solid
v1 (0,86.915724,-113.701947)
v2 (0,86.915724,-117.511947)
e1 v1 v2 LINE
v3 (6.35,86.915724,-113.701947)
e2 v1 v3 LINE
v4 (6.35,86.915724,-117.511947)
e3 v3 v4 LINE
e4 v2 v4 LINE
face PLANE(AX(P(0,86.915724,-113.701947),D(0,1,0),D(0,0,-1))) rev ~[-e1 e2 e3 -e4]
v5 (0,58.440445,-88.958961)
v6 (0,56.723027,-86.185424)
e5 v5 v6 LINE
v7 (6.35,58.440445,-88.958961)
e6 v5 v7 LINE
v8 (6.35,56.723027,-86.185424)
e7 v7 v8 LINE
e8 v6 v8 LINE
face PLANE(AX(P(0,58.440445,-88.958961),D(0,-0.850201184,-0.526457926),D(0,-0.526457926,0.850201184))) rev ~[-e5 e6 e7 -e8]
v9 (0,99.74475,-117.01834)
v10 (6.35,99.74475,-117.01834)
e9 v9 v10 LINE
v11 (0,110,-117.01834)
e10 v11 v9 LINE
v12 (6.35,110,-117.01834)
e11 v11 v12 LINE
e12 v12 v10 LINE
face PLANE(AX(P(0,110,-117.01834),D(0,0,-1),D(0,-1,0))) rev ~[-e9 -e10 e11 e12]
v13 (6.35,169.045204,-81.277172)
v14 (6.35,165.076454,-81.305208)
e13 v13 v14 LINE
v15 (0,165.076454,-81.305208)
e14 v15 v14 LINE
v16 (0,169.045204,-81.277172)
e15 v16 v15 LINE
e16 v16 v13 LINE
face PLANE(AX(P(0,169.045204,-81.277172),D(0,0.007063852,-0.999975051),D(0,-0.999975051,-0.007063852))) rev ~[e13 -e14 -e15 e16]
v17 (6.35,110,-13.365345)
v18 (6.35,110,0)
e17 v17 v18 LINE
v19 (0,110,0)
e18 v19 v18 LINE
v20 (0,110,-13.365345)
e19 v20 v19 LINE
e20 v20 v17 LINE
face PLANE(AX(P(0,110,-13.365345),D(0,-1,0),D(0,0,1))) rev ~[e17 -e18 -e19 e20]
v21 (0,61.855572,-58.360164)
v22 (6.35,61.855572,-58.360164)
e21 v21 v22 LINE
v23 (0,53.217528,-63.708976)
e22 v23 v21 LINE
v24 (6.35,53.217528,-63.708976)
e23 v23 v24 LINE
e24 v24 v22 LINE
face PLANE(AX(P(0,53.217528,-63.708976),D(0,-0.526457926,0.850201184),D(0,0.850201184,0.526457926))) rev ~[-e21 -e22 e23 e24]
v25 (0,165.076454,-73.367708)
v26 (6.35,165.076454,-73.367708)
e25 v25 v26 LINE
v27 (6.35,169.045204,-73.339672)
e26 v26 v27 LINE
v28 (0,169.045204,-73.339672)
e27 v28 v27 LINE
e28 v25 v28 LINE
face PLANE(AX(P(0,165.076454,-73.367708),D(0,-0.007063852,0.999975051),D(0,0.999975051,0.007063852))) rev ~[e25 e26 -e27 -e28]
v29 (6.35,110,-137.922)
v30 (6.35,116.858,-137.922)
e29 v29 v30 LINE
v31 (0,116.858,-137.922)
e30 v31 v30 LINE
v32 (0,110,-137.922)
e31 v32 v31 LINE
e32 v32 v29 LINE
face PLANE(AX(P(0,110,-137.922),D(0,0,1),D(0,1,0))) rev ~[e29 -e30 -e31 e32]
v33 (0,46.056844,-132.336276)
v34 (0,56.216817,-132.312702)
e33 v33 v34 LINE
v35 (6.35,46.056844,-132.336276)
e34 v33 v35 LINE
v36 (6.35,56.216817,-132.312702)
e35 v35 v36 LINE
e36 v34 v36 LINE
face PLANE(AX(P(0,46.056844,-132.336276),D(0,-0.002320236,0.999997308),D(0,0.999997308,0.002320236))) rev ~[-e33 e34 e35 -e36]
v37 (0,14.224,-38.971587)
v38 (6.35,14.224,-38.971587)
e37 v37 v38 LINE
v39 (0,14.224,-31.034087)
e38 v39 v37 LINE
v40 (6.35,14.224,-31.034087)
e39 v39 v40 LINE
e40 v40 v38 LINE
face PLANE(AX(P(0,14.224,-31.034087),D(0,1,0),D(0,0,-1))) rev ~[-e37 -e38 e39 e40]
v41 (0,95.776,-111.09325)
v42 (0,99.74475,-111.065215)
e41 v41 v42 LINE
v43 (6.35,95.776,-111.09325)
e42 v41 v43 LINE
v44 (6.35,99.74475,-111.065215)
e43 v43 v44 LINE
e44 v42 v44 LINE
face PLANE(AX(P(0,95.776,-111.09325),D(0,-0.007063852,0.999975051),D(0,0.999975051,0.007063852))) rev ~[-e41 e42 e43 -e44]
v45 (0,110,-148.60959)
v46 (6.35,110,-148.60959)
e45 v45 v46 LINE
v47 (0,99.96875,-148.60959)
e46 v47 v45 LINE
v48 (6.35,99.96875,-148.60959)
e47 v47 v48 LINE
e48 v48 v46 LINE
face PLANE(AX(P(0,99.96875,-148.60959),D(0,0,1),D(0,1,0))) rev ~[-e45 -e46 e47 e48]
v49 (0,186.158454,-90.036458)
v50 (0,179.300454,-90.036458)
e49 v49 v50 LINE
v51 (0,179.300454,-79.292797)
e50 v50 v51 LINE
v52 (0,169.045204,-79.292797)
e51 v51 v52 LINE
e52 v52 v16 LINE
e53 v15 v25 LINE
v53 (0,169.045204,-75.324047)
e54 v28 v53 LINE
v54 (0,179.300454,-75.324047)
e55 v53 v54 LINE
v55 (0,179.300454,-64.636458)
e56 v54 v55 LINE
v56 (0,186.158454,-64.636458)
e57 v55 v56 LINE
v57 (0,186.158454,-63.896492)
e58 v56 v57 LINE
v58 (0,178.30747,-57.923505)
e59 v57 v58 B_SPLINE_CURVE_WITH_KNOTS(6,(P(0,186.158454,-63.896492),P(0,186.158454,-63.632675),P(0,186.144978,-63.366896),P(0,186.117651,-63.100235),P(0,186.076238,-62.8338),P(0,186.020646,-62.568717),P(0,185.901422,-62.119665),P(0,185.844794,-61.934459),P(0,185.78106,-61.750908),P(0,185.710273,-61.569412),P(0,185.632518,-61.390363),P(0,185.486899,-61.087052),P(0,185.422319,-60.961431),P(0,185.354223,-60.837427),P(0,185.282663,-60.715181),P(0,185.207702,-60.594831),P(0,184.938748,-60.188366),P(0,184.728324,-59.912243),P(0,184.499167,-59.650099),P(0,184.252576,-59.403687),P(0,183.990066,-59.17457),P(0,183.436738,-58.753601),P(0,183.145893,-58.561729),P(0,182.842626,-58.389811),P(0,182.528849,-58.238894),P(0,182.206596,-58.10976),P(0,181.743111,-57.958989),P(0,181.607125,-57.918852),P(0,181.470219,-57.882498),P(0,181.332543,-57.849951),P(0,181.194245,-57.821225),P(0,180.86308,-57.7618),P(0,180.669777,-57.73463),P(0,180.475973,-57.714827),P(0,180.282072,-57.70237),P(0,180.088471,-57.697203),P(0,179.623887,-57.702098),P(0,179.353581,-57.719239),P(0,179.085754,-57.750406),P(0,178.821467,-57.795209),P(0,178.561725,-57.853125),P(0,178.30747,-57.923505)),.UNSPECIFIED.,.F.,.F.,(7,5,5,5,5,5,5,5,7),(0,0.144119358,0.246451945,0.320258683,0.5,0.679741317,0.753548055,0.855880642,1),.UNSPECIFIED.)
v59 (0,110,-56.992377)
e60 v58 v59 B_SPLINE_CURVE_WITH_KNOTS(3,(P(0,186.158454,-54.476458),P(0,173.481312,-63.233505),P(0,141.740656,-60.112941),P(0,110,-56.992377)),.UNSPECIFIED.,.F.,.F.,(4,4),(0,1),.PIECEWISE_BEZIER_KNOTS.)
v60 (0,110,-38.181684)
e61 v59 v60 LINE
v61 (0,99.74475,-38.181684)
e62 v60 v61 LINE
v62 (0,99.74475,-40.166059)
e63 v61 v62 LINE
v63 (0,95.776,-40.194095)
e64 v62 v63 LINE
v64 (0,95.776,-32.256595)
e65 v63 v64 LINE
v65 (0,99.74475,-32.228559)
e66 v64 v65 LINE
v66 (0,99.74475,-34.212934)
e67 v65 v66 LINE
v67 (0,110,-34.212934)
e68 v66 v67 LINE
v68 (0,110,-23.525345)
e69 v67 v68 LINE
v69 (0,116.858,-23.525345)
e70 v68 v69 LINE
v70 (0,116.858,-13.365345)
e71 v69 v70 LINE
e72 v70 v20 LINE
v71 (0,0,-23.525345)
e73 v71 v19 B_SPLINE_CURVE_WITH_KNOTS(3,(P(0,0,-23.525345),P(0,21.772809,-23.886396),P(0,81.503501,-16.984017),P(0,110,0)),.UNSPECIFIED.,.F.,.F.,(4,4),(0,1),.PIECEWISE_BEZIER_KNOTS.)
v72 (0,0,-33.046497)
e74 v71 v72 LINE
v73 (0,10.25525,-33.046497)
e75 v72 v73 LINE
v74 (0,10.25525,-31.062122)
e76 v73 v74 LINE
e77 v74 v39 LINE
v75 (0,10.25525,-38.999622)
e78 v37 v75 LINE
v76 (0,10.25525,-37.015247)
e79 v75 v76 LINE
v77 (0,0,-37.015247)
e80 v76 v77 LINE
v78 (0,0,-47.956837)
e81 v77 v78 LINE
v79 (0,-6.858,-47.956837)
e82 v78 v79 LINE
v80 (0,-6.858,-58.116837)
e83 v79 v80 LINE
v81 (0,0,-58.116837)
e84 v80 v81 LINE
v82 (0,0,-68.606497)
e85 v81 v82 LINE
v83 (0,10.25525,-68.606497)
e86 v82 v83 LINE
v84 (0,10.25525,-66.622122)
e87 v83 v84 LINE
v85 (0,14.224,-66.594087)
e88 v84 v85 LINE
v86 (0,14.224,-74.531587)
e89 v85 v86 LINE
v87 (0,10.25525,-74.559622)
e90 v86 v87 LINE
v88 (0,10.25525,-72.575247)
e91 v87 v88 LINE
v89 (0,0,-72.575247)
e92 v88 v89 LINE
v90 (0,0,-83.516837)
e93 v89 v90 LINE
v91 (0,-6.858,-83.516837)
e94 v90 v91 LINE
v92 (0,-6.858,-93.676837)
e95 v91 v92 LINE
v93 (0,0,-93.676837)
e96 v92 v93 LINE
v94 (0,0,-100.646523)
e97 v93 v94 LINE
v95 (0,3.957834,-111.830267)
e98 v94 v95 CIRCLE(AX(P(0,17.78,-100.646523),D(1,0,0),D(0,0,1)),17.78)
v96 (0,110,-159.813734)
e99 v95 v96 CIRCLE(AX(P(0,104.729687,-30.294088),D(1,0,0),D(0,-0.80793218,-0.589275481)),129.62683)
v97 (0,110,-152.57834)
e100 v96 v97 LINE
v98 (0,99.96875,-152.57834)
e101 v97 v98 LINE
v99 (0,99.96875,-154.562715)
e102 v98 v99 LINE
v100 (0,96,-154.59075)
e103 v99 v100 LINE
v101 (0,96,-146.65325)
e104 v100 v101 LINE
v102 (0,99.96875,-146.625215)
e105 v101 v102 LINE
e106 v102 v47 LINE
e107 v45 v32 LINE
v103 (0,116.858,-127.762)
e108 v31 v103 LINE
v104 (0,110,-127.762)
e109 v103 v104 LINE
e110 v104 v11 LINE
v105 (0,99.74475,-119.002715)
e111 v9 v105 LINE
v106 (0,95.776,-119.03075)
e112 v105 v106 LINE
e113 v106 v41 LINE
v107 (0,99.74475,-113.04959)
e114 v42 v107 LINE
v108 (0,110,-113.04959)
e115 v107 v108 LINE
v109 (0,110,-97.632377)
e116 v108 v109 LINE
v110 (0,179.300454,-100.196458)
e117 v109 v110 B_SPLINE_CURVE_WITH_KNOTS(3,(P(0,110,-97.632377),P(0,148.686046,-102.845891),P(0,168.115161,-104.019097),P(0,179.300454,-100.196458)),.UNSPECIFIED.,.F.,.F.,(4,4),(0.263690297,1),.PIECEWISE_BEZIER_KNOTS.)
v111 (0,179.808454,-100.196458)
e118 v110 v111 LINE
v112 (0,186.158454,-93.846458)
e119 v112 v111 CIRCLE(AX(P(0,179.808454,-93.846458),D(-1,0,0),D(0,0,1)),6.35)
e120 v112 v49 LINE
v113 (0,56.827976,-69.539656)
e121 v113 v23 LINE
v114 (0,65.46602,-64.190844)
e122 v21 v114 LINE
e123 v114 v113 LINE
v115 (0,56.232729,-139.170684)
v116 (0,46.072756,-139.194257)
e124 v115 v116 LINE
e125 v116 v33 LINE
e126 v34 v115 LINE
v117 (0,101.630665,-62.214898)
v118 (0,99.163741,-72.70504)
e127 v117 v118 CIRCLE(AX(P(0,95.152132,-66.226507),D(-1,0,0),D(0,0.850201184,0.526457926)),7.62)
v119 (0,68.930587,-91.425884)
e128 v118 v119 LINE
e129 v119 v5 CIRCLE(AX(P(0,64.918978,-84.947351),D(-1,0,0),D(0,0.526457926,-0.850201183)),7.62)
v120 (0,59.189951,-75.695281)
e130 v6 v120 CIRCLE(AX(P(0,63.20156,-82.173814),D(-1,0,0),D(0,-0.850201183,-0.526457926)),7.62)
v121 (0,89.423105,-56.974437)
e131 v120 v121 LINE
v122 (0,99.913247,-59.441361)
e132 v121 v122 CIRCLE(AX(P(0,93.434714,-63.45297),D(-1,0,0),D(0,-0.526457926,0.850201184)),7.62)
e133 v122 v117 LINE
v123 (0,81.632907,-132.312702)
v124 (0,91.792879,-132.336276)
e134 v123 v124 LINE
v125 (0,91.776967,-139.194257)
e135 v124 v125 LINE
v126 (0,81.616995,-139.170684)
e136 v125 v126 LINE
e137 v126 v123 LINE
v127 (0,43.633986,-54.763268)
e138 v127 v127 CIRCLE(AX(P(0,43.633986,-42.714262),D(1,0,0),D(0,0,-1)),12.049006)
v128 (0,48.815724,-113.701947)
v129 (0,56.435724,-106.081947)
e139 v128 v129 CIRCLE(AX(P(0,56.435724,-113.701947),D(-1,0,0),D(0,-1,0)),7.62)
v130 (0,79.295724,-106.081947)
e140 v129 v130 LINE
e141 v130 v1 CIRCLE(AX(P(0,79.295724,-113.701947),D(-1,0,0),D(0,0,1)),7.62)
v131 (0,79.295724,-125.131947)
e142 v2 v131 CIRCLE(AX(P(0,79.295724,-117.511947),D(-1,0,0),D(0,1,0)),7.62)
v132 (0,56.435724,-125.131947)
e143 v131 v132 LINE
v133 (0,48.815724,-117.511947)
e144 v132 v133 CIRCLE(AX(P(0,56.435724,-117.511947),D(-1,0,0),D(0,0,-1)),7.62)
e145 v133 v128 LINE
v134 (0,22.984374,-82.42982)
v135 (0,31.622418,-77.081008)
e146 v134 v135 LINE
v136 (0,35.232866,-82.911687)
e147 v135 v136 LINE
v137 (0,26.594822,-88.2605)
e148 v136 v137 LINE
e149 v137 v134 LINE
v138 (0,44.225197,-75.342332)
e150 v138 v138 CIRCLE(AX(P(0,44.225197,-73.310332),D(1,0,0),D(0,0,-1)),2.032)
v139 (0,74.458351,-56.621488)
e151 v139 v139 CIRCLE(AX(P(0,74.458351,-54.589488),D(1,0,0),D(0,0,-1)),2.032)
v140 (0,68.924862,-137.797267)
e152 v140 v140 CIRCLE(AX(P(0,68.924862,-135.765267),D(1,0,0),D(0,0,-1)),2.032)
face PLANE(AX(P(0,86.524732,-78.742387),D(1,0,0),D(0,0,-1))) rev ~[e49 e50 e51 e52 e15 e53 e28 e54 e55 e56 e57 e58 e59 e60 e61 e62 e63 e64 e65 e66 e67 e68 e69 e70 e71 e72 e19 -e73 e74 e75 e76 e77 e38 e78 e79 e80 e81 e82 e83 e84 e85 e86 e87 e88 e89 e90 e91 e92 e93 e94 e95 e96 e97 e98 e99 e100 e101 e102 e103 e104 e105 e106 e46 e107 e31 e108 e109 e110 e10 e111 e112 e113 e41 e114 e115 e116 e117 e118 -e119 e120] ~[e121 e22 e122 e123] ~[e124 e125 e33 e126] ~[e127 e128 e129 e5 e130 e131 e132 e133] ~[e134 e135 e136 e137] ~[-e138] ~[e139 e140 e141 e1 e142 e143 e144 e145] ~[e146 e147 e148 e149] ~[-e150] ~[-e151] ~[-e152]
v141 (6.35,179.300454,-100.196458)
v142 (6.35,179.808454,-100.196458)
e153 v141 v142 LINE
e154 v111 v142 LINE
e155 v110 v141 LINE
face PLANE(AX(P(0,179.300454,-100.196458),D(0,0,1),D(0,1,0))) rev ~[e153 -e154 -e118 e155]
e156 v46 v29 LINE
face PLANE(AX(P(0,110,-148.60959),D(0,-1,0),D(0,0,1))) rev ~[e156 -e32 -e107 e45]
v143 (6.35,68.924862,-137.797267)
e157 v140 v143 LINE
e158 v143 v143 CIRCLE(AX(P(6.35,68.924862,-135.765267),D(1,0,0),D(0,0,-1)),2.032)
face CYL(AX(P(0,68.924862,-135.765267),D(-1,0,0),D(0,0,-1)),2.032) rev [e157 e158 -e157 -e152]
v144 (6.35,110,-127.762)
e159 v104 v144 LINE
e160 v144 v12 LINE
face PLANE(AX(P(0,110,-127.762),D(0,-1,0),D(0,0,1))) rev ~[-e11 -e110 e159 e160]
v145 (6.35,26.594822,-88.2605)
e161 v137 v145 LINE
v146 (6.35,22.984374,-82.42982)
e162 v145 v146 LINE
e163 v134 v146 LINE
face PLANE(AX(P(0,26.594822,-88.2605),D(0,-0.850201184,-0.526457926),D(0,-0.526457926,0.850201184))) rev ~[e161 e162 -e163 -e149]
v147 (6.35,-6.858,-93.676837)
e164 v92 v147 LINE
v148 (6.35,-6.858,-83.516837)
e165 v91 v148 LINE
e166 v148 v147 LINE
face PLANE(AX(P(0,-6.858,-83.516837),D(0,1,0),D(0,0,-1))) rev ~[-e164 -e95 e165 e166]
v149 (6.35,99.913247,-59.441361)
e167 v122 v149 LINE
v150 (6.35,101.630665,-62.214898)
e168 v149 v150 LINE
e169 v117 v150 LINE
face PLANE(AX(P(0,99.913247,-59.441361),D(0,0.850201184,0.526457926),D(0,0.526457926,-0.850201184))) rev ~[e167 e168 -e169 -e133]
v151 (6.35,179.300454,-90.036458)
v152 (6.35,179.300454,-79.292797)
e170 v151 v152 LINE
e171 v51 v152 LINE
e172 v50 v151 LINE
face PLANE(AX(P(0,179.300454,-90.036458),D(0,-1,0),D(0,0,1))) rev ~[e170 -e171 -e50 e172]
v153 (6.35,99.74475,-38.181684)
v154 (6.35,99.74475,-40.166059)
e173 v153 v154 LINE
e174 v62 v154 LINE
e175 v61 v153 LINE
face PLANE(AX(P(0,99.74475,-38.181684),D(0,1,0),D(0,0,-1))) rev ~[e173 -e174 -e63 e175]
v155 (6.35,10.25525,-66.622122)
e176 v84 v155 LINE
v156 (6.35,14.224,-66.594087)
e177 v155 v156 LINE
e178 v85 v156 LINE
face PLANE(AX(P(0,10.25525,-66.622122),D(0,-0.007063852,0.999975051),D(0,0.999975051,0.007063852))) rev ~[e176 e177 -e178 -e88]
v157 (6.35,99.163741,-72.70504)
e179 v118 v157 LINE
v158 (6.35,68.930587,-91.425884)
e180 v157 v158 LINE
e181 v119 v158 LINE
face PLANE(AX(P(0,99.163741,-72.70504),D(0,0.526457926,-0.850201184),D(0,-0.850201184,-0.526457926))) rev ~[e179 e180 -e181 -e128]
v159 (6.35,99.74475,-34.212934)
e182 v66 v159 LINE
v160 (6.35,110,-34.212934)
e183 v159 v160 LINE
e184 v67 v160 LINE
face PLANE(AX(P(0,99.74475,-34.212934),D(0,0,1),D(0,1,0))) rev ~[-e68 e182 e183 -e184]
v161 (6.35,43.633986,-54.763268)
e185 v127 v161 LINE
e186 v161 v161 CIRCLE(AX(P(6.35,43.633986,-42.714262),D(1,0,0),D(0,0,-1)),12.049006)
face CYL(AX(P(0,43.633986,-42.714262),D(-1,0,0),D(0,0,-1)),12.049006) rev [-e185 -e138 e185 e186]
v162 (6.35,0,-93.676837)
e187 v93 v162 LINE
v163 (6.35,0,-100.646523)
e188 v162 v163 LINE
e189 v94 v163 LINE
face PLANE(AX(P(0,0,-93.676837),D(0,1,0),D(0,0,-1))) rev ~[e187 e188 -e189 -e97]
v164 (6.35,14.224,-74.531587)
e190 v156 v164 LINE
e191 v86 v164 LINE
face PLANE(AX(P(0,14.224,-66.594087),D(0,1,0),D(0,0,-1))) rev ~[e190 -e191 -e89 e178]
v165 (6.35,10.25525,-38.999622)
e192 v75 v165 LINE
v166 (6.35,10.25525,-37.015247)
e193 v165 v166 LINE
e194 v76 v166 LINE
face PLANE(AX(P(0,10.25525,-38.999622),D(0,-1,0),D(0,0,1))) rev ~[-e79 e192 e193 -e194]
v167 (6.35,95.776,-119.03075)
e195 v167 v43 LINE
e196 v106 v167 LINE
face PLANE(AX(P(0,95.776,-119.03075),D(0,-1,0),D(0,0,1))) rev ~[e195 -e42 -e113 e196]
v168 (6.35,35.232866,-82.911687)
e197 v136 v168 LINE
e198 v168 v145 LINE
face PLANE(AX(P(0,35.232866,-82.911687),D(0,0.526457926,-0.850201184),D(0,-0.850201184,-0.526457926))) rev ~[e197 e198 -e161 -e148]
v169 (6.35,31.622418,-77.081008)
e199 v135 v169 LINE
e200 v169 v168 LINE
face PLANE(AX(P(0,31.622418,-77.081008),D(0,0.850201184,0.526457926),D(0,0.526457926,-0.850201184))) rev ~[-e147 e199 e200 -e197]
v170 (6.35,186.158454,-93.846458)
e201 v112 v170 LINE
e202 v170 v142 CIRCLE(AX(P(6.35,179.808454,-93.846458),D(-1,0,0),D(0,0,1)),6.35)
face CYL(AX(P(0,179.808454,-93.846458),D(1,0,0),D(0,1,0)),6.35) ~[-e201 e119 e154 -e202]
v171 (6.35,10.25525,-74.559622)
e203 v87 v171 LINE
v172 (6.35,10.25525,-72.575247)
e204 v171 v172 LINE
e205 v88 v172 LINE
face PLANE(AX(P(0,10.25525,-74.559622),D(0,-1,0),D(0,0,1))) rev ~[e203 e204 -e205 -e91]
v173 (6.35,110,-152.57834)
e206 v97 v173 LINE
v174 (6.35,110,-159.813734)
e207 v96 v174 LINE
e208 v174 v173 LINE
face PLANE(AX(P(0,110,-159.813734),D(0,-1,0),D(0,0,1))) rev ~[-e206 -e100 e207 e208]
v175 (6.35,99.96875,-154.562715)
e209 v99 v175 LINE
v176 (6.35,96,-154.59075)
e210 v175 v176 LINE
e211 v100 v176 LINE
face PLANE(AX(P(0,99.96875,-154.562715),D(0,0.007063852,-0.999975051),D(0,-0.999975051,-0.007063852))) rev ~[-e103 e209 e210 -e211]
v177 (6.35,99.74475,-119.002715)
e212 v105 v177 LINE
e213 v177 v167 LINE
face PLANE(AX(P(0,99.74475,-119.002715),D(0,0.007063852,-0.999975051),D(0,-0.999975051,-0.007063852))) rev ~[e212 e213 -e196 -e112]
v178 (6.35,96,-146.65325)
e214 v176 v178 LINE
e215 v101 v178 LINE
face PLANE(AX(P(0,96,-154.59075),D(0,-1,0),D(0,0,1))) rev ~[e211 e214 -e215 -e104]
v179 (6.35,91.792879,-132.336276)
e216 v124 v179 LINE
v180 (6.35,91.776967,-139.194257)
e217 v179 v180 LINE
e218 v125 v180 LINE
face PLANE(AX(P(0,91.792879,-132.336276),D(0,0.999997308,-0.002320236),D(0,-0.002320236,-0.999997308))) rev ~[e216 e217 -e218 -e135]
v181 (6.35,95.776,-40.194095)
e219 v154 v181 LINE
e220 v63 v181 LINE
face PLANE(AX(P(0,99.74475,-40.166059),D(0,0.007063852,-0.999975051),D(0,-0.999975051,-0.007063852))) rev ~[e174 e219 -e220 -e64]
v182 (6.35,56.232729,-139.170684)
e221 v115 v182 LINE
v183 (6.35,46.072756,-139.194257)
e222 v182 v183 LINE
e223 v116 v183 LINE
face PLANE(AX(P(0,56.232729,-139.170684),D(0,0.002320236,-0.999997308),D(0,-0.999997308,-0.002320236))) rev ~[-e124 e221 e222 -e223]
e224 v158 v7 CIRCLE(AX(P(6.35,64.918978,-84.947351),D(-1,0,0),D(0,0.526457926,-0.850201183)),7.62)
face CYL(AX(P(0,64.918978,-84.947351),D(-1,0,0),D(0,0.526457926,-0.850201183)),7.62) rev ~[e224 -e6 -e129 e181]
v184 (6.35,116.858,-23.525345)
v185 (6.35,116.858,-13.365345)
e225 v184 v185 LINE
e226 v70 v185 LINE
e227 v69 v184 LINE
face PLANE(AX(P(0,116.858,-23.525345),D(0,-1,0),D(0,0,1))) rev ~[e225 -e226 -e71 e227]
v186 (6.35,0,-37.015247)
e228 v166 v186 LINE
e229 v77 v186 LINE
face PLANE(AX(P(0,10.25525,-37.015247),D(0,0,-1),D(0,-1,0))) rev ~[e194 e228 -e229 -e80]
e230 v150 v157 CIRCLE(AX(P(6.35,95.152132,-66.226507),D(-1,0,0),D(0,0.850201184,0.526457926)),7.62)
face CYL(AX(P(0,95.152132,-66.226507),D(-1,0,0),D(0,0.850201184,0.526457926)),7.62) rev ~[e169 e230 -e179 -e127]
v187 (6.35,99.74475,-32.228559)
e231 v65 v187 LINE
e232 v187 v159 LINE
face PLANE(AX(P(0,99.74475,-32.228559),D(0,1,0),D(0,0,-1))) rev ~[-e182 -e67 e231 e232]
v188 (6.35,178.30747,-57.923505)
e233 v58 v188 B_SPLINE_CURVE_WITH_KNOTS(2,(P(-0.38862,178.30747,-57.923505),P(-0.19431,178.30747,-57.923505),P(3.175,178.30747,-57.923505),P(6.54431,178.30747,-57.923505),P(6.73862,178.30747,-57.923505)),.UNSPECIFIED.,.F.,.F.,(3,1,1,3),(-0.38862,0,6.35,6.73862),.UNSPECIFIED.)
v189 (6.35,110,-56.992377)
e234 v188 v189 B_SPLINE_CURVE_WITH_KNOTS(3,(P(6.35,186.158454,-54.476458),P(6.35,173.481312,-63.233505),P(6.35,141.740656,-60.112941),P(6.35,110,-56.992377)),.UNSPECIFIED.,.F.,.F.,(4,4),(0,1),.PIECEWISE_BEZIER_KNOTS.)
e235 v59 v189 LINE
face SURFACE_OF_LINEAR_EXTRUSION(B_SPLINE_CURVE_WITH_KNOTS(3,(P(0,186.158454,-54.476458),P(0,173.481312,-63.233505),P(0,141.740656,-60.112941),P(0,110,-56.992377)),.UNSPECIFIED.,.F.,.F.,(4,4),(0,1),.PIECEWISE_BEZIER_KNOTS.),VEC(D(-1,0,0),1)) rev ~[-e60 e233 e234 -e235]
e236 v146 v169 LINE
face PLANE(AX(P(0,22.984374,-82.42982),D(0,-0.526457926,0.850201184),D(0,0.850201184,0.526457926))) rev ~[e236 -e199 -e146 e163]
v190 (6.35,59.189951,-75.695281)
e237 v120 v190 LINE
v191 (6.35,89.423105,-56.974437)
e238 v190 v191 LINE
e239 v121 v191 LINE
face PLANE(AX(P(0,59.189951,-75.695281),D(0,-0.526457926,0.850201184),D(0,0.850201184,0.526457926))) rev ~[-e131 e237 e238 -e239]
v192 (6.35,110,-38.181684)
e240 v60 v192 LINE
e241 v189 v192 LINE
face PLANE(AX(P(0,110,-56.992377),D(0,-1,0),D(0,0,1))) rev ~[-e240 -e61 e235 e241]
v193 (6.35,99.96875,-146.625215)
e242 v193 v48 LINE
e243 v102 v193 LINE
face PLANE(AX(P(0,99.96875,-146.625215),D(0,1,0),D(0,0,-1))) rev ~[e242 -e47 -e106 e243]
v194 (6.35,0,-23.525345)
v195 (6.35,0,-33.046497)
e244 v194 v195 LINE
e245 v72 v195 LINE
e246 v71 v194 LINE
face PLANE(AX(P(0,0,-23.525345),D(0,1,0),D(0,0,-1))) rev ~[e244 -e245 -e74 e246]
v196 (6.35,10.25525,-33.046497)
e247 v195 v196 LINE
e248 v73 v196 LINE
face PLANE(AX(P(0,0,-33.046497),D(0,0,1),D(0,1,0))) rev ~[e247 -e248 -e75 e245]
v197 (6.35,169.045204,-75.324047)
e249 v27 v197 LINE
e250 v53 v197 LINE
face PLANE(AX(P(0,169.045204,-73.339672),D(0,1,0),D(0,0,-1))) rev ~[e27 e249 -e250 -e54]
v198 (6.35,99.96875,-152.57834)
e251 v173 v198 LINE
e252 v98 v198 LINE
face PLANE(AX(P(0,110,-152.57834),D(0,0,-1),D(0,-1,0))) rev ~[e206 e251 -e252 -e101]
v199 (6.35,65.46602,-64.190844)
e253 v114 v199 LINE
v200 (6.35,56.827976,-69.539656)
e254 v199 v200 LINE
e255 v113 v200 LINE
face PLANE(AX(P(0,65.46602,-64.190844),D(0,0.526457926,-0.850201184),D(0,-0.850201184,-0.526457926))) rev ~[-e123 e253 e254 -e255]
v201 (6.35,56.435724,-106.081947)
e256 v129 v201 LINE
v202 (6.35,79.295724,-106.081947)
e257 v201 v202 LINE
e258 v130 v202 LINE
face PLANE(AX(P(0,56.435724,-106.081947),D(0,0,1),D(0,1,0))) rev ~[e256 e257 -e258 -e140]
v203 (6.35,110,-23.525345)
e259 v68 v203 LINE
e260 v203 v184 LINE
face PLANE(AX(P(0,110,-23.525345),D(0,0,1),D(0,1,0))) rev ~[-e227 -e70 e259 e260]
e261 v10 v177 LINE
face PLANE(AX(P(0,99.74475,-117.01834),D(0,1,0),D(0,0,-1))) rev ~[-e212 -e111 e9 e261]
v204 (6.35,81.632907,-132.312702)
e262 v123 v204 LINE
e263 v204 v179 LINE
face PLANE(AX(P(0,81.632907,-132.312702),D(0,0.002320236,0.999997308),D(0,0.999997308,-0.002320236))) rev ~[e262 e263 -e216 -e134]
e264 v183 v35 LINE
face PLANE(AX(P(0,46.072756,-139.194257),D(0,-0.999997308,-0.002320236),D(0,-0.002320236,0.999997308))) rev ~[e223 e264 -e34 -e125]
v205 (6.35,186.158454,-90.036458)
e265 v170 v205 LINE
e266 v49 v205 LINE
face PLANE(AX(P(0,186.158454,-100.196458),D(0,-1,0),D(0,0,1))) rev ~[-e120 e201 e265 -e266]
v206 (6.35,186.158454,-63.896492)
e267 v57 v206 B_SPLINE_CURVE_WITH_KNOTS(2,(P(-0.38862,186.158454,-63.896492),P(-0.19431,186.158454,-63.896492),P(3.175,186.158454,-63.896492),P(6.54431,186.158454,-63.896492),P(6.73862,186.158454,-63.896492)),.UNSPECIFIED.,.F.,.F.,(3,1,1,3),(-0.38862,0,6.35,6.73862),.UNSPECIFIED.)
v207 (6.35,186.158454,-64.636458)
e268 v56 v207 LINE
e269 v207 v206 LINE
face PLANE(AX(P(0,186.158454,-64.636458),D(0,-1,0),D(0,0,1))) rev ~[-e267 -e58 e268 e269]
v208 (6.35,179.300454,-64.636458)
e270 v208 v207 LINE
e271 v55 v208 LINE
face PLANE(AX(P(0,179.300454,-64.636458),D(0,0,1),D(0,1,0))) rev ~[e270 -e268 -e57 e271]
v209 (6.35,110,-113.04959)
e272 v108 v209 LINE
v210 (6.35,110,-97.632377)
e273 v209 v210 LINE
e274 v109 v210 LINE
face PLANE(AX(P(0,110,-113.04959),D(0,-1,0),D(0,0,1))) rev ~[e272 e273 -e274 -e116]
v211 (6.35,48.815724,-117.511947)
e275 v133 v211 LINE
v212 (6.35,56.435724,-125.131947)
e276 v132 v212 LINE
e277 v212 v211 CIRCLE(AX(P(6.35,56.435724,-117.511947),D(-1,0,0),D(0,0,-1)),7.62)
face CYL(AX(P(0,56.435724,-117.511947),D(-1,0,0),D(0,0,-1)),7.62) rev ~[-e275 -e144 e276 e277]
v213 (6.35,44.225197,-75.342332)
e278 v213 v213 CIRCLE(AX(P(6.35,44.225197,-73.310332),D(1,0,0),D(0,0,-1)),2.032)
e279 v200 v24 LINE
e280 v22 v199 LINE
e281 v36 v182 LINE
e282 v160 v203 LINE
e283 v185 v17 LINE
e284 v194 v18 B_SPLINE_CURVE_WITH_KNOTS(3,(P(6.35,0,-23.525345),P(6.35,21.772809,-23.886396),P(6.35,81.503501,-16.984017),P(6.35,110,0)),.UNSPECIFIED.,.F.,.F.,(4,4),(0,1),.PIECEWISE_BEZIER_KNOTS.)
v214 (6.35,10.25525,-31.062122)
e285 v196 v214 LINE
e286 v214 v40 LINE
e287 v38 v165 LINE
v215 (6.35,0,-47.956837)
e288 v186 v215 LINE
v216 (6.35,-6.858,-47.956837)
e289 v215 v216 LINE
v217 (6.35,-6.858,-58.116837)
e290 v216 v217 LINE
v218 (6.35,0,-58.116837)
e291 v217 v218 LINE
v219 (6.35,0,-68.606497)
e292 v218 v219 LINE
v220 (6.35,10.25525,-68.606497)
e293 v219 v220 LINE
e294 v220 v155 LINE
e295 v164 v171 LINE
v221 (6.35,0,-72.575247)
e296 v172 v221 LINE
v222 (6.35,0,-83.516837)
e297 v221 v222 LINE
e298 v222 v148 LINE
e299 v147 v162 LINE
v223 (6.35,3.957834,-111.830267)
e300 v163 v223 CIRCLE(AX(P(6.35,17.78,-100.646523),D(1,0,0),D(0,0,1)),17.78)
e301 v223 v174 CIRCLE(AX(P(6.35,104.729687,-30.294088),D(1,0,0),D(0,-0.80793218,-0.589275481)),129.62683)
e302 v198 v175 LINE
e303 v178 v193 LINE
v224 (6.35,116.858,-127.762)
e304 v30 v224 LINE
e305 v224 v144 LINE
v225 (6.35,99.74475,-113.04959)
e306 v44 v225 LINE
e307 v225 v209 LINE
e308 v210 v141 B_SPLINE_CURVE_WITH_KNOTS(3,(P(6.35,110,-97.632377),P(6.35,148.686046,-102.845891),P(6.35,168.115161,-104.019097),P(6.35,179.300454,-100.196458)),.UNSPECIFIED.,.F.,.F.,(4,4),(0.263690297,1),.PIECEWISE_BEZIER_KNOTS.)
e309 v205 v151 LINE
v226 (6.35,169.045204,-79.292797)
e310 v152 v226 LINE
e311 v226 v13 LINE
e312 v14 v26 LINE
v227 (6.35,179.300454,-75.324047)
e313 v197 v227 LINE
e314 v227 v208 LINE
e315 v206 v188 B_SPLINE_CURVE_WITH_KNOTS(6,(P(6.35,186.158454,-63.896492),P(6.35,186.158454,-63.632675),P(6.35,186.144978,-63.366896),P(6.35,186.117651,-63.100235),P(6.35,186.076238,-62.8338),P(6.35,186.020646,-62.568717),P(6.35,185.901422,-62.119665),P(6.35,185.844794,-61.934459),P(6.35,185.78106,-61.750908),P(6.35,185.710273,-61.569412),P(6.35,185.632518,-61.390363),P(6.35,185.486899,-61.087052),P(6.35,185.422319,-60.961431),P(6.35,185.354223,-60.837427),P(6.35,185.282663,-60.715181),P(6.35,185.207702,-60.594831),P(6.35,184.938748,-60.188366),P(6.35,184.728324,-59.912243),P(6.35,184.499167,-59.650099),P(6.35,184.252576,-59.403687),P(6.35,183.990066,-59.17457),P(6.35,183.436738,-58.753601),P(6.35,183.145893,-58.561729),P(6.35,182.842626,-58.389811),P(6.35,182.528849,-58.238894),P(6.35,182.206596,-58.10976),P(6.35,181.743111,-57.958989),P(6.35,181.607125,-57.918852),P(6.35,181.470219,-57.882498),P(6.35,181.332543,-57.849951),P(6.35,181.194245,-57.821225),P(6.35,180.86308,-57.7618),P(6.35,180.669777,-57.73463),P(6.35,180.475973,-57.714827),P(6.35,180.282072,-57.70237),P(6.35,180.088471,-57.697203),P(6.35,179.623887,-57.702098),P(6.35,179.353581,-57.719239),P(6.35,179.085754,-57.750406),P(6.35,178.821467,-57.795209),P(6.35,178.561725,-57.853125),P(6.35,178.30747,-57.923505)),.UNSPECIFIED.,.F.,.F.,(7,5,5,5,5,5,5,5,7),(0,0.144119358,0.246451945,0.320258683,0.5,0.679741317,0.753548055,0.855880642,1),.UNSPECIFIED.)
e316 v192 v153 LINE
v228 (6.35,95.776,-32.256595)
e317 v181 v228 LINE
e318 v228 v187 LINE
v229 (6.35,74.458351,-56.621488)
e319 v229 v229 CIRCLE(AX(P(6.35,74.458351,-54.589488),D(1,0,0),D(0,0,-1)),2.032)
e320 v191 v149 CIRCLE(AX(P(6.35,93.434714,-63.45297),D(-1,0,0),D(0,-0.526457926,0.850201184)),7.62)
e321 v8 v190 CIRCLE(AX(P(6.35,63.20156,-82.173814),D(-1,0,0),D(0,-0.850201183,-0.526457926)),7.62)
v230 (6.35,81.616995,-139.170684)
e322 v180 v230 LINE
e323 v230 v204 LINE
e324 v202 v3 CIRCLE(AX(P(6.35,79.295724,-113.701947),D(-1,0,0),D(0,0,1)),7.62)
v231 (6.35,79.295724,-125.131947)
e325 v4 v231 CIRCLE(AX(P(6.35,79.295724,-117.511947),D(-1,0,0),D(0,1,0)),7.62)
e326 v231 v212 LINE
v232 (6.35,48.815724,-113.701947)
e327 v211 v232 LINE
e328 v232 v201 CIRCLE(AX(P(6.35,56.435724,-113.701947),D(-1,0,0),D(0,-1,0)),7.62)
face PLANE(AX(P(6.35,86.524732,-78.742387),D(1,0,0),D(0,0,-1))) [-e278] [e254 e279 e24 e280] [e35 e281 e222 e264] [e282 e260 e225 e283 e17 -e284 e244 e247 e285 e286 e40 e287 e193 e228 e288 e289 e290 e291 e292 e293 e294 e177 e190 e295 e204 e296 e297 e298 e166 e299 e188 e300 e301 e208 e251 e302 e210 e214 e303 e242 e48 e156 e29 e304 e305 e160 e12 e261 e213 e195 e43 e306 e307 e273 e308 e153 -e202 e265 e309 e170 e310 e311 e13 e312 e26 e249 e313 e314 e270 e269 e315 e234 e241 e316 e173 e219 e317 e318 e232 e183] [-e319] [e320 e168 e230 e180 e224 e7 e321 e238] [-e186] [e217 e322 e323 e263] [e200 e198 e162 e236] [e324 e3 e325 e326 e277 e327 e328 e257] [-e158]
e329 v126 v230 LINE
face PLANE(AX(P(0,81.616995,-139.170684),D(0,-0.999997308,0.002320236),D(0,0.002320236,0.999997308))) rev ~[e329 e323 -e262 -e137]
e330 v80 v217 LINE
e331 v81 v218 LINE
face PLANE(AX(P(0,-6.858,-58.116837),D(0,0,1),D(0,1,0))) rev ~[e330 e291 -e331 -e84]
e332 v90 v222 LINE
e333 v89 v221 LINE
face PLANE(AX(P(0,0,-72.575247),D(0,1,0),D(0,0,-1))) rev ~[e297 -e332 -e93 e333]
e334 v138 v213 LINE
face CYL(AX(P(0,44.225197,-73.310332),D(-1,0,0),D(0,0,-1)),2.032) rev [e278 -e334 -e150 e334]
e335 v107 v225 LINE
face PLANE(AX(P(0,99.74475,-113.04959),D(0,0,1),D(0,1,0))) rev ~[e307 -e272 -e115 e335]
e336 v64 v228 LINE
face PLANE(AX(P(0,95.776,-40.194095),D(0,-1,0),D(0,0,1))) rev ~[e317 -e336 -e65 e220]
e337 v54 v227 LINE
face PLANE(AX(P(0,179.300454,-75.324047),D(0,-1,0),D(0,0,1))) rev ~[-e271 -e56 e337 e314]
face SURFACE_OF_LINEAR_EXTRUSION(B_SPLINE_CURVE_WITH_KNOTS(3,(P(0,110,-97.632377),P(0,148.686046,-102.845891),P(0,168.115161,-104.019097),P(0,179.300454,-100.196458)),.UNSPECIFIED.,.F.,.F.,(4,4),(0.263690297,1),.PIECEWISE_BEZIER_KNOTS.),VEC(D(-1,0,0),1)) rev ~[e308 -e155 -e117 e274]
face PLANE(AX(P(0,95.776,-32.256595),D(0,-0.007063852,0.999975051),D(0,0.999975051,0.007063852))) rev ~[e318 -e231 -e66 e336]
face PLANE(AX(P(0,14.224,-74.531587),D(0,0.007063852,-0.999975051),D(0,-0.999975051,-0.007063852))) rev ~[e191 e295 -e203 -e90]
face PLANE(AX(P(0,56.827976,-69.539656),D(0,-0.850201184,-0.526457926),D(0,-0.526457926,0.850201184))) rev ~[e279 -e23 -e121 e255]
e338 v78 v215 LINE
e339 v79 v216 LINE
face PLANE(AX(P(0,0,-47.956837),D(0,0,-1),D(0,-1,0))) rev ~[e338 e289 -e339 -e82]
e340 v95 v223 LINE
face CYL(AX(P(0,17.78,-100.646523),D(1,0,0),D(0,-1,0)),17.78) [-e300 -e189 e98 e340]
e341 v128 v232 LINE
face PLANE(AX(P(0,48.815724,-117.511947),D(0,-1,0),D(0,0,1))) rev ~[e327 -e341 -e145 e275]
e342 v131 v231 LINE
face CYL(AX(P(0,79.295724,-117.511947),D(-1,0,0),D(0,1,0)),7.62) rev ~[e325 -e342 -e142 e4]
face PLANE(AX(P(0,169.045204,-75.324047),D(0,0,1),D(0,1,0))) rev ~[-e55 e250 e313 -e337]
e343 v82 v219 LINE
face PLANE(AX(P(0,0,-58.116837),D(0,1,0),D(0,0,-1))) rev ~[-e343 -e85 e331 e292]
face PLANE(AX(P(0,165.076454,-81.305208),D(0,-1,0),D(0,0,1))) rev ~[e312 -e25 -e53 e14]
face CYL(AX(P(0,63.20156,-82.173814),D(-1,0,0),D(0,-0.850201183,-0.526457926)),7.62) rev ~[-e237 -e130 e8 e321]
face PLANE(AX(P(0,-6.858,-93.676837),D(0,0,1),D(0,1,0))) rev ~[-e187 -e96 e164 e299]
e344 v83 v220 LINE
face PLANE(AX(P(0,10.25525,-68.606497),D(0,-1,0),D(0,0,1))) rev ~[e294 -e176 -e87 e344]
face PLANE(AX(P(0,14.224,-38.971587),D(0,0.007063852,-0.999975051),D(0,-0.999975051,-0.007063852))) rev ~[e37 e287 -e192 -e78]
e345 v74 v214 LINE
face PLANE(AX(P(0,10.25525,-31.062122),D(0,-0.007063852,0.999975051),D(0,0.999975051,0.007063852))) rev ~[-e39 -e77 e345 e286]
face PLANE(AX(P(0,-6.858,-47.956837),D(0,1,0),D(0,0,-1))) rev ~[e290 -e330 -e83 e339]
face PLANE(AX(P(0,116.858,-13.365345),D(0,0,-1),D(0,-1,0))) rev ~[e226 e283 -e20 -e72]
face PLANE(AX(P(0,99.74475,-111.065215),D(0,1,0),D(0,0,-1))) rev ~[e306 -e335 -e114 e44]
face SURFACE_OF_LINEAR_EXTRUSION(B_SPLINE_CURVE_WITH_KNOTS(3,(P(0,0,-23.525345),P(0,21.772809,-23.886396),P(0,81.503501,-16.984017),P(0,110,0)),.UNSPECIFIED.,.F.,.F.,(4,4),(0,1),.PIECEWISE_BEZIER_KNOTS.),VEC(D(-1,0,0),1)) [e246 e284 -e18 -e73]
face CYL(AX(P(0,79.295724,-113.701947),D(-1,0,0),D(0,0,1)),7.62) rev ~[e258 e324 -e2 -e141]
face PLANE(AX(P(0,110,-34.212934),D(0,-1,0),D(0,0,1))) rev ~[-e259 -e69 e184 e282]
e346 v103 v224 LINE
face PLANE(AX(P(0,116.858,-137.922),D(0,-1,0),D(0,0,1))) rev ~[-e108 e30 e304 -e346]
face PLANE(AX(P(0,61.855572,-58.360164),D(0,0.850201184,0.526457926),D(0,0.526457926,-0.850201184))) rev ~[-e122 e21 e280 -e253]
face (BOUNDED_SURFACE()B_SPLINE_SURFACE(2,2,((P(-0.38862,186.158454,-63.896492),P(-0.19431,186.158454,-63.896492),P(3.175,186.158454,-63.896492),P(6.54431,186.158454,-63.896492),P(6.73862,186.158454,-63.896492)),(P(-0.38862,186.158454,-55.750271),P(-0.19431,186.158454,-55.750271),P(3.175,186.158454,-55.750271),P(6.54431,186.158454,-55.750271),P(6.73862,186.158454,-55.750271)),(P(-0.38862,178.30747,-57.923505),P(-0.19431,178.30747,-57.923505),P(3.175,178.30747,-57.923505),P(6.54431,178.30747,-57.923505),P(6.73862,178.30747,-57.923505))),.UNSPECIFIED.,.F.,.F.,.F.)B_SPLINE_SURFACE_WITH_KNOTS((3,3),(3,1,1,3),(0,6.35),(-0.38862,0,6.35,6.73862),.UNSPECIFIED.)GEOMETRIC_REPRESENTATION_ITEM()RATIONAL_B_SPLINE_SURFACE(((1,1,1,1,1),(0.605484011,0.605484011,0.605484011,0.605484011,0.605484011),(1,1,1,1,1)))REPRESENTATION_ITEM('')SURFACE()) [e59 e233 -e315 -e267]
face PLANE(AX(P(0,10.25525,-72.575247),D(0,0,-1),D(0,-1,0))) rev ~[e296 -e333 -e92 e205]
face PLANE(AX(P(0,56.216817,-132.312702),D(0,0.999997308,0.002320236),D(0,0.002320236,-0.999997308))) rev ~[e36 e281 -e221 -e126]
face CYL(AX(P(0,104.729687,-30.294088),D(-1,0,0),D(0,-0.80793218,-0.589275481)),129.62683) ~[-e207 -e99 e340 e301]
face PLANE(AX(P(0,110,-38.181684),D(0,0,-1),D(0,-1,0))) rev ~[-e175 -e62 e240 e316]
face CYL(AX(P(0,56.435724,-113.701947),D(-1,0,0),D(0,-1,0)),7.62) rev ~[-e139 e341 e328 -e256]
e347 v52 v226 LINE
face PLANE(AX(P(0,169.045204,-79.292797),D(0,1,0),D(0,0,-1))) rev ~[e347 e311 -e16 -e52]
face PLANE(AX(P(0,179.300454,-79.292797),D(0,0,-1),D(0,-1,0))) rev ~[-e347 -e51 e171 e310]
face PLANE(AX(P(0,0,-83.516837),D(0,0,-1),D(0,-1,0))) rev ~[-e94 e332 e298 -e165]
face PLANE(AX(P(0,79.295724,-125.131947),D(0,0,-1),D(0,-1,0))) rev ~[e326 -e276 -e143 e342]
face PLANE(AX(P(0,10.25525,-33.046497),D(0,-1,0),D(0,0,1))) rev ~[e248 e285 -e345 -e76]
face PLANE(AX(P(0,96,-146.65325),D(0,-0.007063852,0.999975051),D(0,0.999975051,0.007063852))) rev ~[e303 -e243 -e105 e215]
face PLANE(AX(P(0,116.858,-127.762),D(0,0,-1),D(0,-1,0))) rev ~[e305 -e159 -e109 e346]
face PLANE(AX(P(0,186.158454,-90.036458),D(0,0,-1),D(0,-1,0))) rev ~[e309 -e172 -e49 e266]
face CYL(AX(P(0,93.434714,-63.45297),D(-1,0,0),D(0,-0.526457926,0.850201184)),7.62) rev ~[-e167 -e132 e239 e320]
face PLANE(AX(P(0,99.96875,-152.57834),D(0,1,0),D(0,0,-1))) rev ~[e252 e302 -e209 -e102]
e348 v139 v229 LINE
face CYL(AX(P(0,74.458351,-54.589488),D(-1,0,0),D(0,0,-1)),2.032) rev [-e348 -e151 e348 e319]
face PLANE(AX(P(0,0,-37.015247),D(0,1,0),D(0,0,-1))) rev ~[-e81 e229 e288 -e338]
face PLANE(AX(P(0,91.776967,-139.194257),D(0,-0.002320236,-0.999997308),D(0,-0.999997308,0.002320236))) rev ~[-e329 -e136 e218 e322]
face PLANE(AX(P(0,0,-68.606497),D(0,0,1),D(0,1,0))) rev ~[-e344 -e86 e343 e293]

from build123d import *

# Parameters (mm, degrees)
SKETCH1_R      = 12.049005967
SKETCH1_R_2    = 2.032
EXTRUDE1_DEPTH = 6.35
FILLET3_R      = 17.78
FILLET8_R      = 6.1976
FILLET10_R     = 6.35


with BuildPart() as part:
    # Sketch1 → Extrude1 (new body)
    with BuildSketch(Plane(origin=(0, 0, 0), x_dir=(0, 0, -1), z_dir=(1, 0, 0))):
        with BuildLine():
            Line((13.365344838, 110), (0, 110))
            add(Edge.make_bspline(
                [(23.525344838, 0), (23.886396453, 21.77280911), (16.984017385, 81.503501161), (0, 110)],
                knots=[0, 0, 0, 0, 1, 1, 1, 1], degree=3))
            Line((23.525344838, 0), (33.046497245, 0))
            Line((33.046497245, 0), (33.046497245, 10.25525))
            Line((33.046497245, 10.25525), (31.062122245, 10.25525))
            Line((31.062122245, 10.25525), (31.034086884, 14.224))
            Line((31.034086884, 14.224), (38.971586884, 14.224))
            Line((38.971586884, 14.224), (38.999622245, 10.25525))
            Line((38.999622245, 10.25525), (37.015247245, 10.25525))
            Line((37.015247245, 10.25525), (37.015247245, 0))
            Line((37.015247245, 0), (47.956836884, 0))
            Line((47.956836884, 0), (47.956836884, -6.858))
            Line((47.956836884, -6.858), (58.116836884, -6.858))
            Line((58.116836884, -6.858), (58.116836884, 0))
            Line((58.116836884, 0), (68.606497245, 0))
            Line((68.606497245, 0), (68.606497245, 10.25525))
            Line((68.606497245, 10.25525), (66.622122245, 10.25525))
            Line((66.622122245, 10.25525), (66.594086884, 14.224))
            Line((66.594086884, 14.224), (74.531586884, 14.224))
            Line((74.531586884, 14.224), (74.559622245, 10.25525))
            Line((74.559622245, 10.25525), (72.575247245, 10.25525))
            Line((72.575247245, 10.25525), (72.575247245, 0))
            Line((72.575247245, 0), (83.516836884, 0))
            Line((83.516836884, 0), (83.516836884, -6.858))
            Line((83.516836884, -6.858), (93.676836884, -6.858))
            Line((93.676836884, -6.858), (93.676836884, 0))
            Line((93.676836884, 0), (106.68, 0))
            ThreePointArc((106.68, 0), (147.01715629, 48.348482811), (159.813733796, 110))
            Line((159.813733796, 110), (152.578339639, 110))
            Line((152.578339639, 110), (152.578339639, 99.96875))
            Line((152.578339639, 99.96875), (154.562714639, 99.96875))
            Line((154.562714639, 99.96875), (154.59075, 96))
            Line((154.59075, 96), (146.65325, 96))
            Line((146.65325, 96), (146.625214639, 99.96875))
            Line((146.625214639, 99.96875), (148.609589639, 99.96875))
            Line((148.609589639, 99.96875), (148.609589639, 110))
            Line((148.609589639, 110), (137.922, 110))
            Line((137.922, 110), (137.922, 116.858))
            Line((137.922, 116.858), (127.762, 116.858))
            Line((127.762, 116.858), (127.762, 110))
            Line((127.762, 110), (117.018339639, 110))
            Line((117.018339639, 110), (117.018339639, 99.74475))
            Line((117.018339639, 99.74475), (119.002714639, 99.74475))
            Line((119.002714639, 99.74475), (119.03075, 95.776))
            Line((119.03075, 95.776), (111.09325, 95.776))
            Line((111.09325, 95.776), (111.065214639, 99.74475))
            Line((111.065214639, 99.74475), (113.049589639, 99.74475))
            Line((113.049589639, 99.74475), (113.049589639, 110))
            Line((113.049589639, 110), (97.632376997, 110))
            add(Edge.make_bspline(
                [(97.632376997, 110), (102.845891428, 148.686045998), (104.019096982, 168.115161248), (100.196457803, 179.300454229)],
                knots=[0.263690297, 0.263690297, 0.263690297, 0.263690297, 1, 1, 1, 1], degree=3))
            Line((100.196457803, 179.300454229), (100.196457803, 186.158454229))
            Line((100.196457803, 186.158454229), (90.036457803, 186.158454229))
            Line((90.036457803, 186.158454229), (90.036457803, 179.300454229))
            Line((90.036457803, 179.300454229), (79.292797442, 179.300454229))
            Line((79.292797442, 179.300454229), (79.292797442, 169.045204229))
            Line((79.292797442, 169.045204229), (81.277172442, 169.045204229))
            Line((81.277172442, 169.045204229), (81.305207803, 165.076454229))
            Line((81.305207803, 165.076454229), (73.367707803, 165.076454229))
            Line((73.367707803, 165.076454229), (73.339672442, 169.045204229))
            Line((73.339672442, 169.045204229), (75.324047442, 169.045204229))
            Line((75.324047442, 169.045204229), (75.324047442, 179.300454229))
            Line((75.324047442, 179.300454229), (64.636457803, 179.300454229))
            Line((64.636457803, 179.300454229), (64.636457803, 186.158454229))
            Line((64.636457803, 186.158454229), (54.476457803, 186.158454229))
            add(Edge.make_bspline(
                [(54.476457803, 186.158454229), (63.233505027, 173.481312137), (60.112941012, 141.740656068), (56.992376997, 110)],
                knots=[0, 0, 0, 0, 1, 1, 1, 1], degree=3))
            Line((56.992376997, 110), (38.181684477, 110))
            Line((38.181684477, 110), (38.181684477, 99.74475))
            Line((38.181684477, 99.74475), (40.166059477, 99.74475))
            Line((40.166059477, 99.74475), (40.194094838, 95.776))
            Line((40.194094838, 95.776), (32.256594838, 95.776))
            Line((32.256594838, 95.776), (32.228559477, 99.74475))
            Line((32.228559477, 99.74475), (34.212934477, 99.74475))
            Line((34.212934477, 99.74475), (34.212934477, 110))
            Line((34.212934477, 110), (23.525344838, 110))
            Line((23.525344838, 110), (23.525344838, 116.858))
            Line((23.525344838, 116.858), (13.365344838, 116.858))
            Line((13.365344838, 116.858), (13.365344838, 110))
        make_face()
        Polygon((77.081007641, 31.622417606), (82.911687358, 35.23286606), (88.260499882, 26.594822035), (82.429820165, 22.984373581), align=None, mode=Mode.SUBTRACT)
        with Locations((42.714261702, 43.633986225)):
            Circle(SKETCH1_R, mode=Mode.SUBTRACT)
        with Locations((73.310331844, 44.225196864)):
            Circle(SKETCH1_R_2, mode=Mode.SUBTRACT)
        Polygon((139.194257476, 46.072756303), (132.336275936, 46.056844127), (132.312702342, 56.216816779), (139.170683882, 56.232728955), align=None, mode=Mode.SUBTRACT)
        Polygon((58.360163805, 61.855571693), (64.190843522, 65.466020147), (69.539656047, 56.827976122), (63.70897633, 53.217527668), align=None, mode=Mode.SUBTRACT)
        with BuildLine():
            ThreePointArc((106.081947056, 79.295723893), (108.313793383, 84.683877565), (113.701947056, 86.915723893))
            Line((113.701947056, 86.915723893), (117.511947056, 86.915723893))
            ThreePointArc((117.511947056, 86.915723893), (122.900100729, 84.683877565), (125.131947056, 79.295723893))
            Line((125.131947056, 79.295723893), (125.131947056, 56.435723893))
            ThreePointArc((125.131947056, 56.435723893), (122.900100729, 51.04757022), (117.511947056, 48.815723893))
            Line((117.511947056, 48.815723893), (113.701947056, 48.815723893))
            ThreePointArc((113.701947056, 48.815723893), (108.313793383, 51.04757022), (106.081947056, 56.435723893))
            Line((106.081947056, 56.435723893), (106.081947056, 79.295723893))
        make_face(mode=Mode.SUBTRACT)
        with Locations((54.589488008, 74.458350952)):
            Circle(SKETCH1_R_2, mode=Mode.SUBTRACT)
        with Locations((135.765266706, 68.924861749)):
            Circle(SKETCH1_R_2, mode=Mode.SUBTRACT)
        with BuildLine():
            ThreePointArc((56.974437356, 89.423104749), (56.03531954, 95.179092566), (59.441360982, 99.913247161))
            Line((59.441360982, 99.913247161), (62.214897914, 101.630664789))
            ThreePointArc((62.214897914, 101.630664789), (67.970885731, 102.569782605), (72.705040326, 99.163741163))
            Line((72.705040326, 99.163741163), (91.425884161, 68.930587076))
            ThreePointArc((91.425884161, 68.930587076), (92.365001978, 63.174599258), (88.958960536, 58.440444664))
            Line((88.958960536, 58.440444664), (86.185423604, 56.723027036))
            ThreePointArc((86.185423604, 56.723027036), (80.429435786, 55.783909219), (75.695281192, 59.189950661))
            Line((75.695281192, 59.189950661), (56.974437356, 89.423104749))
        make_face(mode=Mode.SUBTRACT)
        Polygon((139.170683882, 81.616994542), (132.312702342, 81.632906718), (132.336275936, 91.79287937), (139.194257476, 91.776967194), align=None, mode=Mode.SUBTRACT)
    extrude(amount=EXTRUDE1_DEPTH)

    # Fillet3
    fillet3_edges = [part.edges().sort_by_distance(p)[0] for p in [
        (3.175, 0, -106.68),
    ]]
    fillet(fillet3_edges, radius=FILLET3_R)

    # Fillet8
    fillet8_edges = [part.edges().sort_by_distance(p)[0] for p in [
        (3.175, 186.158454229, -54.476457803),
    ]]
    fillet(fillet8_edges, radius=FILLET8_R)

    # Fillet10
    fillet10_edges = [part.edges().sort_by_distance(p)[0] for p in [
        (3.175, 186.158454229, -100.196457803),
    ]]
    fillet(fillet10_edges, radius=FILLET10_R)


solid = part.part
